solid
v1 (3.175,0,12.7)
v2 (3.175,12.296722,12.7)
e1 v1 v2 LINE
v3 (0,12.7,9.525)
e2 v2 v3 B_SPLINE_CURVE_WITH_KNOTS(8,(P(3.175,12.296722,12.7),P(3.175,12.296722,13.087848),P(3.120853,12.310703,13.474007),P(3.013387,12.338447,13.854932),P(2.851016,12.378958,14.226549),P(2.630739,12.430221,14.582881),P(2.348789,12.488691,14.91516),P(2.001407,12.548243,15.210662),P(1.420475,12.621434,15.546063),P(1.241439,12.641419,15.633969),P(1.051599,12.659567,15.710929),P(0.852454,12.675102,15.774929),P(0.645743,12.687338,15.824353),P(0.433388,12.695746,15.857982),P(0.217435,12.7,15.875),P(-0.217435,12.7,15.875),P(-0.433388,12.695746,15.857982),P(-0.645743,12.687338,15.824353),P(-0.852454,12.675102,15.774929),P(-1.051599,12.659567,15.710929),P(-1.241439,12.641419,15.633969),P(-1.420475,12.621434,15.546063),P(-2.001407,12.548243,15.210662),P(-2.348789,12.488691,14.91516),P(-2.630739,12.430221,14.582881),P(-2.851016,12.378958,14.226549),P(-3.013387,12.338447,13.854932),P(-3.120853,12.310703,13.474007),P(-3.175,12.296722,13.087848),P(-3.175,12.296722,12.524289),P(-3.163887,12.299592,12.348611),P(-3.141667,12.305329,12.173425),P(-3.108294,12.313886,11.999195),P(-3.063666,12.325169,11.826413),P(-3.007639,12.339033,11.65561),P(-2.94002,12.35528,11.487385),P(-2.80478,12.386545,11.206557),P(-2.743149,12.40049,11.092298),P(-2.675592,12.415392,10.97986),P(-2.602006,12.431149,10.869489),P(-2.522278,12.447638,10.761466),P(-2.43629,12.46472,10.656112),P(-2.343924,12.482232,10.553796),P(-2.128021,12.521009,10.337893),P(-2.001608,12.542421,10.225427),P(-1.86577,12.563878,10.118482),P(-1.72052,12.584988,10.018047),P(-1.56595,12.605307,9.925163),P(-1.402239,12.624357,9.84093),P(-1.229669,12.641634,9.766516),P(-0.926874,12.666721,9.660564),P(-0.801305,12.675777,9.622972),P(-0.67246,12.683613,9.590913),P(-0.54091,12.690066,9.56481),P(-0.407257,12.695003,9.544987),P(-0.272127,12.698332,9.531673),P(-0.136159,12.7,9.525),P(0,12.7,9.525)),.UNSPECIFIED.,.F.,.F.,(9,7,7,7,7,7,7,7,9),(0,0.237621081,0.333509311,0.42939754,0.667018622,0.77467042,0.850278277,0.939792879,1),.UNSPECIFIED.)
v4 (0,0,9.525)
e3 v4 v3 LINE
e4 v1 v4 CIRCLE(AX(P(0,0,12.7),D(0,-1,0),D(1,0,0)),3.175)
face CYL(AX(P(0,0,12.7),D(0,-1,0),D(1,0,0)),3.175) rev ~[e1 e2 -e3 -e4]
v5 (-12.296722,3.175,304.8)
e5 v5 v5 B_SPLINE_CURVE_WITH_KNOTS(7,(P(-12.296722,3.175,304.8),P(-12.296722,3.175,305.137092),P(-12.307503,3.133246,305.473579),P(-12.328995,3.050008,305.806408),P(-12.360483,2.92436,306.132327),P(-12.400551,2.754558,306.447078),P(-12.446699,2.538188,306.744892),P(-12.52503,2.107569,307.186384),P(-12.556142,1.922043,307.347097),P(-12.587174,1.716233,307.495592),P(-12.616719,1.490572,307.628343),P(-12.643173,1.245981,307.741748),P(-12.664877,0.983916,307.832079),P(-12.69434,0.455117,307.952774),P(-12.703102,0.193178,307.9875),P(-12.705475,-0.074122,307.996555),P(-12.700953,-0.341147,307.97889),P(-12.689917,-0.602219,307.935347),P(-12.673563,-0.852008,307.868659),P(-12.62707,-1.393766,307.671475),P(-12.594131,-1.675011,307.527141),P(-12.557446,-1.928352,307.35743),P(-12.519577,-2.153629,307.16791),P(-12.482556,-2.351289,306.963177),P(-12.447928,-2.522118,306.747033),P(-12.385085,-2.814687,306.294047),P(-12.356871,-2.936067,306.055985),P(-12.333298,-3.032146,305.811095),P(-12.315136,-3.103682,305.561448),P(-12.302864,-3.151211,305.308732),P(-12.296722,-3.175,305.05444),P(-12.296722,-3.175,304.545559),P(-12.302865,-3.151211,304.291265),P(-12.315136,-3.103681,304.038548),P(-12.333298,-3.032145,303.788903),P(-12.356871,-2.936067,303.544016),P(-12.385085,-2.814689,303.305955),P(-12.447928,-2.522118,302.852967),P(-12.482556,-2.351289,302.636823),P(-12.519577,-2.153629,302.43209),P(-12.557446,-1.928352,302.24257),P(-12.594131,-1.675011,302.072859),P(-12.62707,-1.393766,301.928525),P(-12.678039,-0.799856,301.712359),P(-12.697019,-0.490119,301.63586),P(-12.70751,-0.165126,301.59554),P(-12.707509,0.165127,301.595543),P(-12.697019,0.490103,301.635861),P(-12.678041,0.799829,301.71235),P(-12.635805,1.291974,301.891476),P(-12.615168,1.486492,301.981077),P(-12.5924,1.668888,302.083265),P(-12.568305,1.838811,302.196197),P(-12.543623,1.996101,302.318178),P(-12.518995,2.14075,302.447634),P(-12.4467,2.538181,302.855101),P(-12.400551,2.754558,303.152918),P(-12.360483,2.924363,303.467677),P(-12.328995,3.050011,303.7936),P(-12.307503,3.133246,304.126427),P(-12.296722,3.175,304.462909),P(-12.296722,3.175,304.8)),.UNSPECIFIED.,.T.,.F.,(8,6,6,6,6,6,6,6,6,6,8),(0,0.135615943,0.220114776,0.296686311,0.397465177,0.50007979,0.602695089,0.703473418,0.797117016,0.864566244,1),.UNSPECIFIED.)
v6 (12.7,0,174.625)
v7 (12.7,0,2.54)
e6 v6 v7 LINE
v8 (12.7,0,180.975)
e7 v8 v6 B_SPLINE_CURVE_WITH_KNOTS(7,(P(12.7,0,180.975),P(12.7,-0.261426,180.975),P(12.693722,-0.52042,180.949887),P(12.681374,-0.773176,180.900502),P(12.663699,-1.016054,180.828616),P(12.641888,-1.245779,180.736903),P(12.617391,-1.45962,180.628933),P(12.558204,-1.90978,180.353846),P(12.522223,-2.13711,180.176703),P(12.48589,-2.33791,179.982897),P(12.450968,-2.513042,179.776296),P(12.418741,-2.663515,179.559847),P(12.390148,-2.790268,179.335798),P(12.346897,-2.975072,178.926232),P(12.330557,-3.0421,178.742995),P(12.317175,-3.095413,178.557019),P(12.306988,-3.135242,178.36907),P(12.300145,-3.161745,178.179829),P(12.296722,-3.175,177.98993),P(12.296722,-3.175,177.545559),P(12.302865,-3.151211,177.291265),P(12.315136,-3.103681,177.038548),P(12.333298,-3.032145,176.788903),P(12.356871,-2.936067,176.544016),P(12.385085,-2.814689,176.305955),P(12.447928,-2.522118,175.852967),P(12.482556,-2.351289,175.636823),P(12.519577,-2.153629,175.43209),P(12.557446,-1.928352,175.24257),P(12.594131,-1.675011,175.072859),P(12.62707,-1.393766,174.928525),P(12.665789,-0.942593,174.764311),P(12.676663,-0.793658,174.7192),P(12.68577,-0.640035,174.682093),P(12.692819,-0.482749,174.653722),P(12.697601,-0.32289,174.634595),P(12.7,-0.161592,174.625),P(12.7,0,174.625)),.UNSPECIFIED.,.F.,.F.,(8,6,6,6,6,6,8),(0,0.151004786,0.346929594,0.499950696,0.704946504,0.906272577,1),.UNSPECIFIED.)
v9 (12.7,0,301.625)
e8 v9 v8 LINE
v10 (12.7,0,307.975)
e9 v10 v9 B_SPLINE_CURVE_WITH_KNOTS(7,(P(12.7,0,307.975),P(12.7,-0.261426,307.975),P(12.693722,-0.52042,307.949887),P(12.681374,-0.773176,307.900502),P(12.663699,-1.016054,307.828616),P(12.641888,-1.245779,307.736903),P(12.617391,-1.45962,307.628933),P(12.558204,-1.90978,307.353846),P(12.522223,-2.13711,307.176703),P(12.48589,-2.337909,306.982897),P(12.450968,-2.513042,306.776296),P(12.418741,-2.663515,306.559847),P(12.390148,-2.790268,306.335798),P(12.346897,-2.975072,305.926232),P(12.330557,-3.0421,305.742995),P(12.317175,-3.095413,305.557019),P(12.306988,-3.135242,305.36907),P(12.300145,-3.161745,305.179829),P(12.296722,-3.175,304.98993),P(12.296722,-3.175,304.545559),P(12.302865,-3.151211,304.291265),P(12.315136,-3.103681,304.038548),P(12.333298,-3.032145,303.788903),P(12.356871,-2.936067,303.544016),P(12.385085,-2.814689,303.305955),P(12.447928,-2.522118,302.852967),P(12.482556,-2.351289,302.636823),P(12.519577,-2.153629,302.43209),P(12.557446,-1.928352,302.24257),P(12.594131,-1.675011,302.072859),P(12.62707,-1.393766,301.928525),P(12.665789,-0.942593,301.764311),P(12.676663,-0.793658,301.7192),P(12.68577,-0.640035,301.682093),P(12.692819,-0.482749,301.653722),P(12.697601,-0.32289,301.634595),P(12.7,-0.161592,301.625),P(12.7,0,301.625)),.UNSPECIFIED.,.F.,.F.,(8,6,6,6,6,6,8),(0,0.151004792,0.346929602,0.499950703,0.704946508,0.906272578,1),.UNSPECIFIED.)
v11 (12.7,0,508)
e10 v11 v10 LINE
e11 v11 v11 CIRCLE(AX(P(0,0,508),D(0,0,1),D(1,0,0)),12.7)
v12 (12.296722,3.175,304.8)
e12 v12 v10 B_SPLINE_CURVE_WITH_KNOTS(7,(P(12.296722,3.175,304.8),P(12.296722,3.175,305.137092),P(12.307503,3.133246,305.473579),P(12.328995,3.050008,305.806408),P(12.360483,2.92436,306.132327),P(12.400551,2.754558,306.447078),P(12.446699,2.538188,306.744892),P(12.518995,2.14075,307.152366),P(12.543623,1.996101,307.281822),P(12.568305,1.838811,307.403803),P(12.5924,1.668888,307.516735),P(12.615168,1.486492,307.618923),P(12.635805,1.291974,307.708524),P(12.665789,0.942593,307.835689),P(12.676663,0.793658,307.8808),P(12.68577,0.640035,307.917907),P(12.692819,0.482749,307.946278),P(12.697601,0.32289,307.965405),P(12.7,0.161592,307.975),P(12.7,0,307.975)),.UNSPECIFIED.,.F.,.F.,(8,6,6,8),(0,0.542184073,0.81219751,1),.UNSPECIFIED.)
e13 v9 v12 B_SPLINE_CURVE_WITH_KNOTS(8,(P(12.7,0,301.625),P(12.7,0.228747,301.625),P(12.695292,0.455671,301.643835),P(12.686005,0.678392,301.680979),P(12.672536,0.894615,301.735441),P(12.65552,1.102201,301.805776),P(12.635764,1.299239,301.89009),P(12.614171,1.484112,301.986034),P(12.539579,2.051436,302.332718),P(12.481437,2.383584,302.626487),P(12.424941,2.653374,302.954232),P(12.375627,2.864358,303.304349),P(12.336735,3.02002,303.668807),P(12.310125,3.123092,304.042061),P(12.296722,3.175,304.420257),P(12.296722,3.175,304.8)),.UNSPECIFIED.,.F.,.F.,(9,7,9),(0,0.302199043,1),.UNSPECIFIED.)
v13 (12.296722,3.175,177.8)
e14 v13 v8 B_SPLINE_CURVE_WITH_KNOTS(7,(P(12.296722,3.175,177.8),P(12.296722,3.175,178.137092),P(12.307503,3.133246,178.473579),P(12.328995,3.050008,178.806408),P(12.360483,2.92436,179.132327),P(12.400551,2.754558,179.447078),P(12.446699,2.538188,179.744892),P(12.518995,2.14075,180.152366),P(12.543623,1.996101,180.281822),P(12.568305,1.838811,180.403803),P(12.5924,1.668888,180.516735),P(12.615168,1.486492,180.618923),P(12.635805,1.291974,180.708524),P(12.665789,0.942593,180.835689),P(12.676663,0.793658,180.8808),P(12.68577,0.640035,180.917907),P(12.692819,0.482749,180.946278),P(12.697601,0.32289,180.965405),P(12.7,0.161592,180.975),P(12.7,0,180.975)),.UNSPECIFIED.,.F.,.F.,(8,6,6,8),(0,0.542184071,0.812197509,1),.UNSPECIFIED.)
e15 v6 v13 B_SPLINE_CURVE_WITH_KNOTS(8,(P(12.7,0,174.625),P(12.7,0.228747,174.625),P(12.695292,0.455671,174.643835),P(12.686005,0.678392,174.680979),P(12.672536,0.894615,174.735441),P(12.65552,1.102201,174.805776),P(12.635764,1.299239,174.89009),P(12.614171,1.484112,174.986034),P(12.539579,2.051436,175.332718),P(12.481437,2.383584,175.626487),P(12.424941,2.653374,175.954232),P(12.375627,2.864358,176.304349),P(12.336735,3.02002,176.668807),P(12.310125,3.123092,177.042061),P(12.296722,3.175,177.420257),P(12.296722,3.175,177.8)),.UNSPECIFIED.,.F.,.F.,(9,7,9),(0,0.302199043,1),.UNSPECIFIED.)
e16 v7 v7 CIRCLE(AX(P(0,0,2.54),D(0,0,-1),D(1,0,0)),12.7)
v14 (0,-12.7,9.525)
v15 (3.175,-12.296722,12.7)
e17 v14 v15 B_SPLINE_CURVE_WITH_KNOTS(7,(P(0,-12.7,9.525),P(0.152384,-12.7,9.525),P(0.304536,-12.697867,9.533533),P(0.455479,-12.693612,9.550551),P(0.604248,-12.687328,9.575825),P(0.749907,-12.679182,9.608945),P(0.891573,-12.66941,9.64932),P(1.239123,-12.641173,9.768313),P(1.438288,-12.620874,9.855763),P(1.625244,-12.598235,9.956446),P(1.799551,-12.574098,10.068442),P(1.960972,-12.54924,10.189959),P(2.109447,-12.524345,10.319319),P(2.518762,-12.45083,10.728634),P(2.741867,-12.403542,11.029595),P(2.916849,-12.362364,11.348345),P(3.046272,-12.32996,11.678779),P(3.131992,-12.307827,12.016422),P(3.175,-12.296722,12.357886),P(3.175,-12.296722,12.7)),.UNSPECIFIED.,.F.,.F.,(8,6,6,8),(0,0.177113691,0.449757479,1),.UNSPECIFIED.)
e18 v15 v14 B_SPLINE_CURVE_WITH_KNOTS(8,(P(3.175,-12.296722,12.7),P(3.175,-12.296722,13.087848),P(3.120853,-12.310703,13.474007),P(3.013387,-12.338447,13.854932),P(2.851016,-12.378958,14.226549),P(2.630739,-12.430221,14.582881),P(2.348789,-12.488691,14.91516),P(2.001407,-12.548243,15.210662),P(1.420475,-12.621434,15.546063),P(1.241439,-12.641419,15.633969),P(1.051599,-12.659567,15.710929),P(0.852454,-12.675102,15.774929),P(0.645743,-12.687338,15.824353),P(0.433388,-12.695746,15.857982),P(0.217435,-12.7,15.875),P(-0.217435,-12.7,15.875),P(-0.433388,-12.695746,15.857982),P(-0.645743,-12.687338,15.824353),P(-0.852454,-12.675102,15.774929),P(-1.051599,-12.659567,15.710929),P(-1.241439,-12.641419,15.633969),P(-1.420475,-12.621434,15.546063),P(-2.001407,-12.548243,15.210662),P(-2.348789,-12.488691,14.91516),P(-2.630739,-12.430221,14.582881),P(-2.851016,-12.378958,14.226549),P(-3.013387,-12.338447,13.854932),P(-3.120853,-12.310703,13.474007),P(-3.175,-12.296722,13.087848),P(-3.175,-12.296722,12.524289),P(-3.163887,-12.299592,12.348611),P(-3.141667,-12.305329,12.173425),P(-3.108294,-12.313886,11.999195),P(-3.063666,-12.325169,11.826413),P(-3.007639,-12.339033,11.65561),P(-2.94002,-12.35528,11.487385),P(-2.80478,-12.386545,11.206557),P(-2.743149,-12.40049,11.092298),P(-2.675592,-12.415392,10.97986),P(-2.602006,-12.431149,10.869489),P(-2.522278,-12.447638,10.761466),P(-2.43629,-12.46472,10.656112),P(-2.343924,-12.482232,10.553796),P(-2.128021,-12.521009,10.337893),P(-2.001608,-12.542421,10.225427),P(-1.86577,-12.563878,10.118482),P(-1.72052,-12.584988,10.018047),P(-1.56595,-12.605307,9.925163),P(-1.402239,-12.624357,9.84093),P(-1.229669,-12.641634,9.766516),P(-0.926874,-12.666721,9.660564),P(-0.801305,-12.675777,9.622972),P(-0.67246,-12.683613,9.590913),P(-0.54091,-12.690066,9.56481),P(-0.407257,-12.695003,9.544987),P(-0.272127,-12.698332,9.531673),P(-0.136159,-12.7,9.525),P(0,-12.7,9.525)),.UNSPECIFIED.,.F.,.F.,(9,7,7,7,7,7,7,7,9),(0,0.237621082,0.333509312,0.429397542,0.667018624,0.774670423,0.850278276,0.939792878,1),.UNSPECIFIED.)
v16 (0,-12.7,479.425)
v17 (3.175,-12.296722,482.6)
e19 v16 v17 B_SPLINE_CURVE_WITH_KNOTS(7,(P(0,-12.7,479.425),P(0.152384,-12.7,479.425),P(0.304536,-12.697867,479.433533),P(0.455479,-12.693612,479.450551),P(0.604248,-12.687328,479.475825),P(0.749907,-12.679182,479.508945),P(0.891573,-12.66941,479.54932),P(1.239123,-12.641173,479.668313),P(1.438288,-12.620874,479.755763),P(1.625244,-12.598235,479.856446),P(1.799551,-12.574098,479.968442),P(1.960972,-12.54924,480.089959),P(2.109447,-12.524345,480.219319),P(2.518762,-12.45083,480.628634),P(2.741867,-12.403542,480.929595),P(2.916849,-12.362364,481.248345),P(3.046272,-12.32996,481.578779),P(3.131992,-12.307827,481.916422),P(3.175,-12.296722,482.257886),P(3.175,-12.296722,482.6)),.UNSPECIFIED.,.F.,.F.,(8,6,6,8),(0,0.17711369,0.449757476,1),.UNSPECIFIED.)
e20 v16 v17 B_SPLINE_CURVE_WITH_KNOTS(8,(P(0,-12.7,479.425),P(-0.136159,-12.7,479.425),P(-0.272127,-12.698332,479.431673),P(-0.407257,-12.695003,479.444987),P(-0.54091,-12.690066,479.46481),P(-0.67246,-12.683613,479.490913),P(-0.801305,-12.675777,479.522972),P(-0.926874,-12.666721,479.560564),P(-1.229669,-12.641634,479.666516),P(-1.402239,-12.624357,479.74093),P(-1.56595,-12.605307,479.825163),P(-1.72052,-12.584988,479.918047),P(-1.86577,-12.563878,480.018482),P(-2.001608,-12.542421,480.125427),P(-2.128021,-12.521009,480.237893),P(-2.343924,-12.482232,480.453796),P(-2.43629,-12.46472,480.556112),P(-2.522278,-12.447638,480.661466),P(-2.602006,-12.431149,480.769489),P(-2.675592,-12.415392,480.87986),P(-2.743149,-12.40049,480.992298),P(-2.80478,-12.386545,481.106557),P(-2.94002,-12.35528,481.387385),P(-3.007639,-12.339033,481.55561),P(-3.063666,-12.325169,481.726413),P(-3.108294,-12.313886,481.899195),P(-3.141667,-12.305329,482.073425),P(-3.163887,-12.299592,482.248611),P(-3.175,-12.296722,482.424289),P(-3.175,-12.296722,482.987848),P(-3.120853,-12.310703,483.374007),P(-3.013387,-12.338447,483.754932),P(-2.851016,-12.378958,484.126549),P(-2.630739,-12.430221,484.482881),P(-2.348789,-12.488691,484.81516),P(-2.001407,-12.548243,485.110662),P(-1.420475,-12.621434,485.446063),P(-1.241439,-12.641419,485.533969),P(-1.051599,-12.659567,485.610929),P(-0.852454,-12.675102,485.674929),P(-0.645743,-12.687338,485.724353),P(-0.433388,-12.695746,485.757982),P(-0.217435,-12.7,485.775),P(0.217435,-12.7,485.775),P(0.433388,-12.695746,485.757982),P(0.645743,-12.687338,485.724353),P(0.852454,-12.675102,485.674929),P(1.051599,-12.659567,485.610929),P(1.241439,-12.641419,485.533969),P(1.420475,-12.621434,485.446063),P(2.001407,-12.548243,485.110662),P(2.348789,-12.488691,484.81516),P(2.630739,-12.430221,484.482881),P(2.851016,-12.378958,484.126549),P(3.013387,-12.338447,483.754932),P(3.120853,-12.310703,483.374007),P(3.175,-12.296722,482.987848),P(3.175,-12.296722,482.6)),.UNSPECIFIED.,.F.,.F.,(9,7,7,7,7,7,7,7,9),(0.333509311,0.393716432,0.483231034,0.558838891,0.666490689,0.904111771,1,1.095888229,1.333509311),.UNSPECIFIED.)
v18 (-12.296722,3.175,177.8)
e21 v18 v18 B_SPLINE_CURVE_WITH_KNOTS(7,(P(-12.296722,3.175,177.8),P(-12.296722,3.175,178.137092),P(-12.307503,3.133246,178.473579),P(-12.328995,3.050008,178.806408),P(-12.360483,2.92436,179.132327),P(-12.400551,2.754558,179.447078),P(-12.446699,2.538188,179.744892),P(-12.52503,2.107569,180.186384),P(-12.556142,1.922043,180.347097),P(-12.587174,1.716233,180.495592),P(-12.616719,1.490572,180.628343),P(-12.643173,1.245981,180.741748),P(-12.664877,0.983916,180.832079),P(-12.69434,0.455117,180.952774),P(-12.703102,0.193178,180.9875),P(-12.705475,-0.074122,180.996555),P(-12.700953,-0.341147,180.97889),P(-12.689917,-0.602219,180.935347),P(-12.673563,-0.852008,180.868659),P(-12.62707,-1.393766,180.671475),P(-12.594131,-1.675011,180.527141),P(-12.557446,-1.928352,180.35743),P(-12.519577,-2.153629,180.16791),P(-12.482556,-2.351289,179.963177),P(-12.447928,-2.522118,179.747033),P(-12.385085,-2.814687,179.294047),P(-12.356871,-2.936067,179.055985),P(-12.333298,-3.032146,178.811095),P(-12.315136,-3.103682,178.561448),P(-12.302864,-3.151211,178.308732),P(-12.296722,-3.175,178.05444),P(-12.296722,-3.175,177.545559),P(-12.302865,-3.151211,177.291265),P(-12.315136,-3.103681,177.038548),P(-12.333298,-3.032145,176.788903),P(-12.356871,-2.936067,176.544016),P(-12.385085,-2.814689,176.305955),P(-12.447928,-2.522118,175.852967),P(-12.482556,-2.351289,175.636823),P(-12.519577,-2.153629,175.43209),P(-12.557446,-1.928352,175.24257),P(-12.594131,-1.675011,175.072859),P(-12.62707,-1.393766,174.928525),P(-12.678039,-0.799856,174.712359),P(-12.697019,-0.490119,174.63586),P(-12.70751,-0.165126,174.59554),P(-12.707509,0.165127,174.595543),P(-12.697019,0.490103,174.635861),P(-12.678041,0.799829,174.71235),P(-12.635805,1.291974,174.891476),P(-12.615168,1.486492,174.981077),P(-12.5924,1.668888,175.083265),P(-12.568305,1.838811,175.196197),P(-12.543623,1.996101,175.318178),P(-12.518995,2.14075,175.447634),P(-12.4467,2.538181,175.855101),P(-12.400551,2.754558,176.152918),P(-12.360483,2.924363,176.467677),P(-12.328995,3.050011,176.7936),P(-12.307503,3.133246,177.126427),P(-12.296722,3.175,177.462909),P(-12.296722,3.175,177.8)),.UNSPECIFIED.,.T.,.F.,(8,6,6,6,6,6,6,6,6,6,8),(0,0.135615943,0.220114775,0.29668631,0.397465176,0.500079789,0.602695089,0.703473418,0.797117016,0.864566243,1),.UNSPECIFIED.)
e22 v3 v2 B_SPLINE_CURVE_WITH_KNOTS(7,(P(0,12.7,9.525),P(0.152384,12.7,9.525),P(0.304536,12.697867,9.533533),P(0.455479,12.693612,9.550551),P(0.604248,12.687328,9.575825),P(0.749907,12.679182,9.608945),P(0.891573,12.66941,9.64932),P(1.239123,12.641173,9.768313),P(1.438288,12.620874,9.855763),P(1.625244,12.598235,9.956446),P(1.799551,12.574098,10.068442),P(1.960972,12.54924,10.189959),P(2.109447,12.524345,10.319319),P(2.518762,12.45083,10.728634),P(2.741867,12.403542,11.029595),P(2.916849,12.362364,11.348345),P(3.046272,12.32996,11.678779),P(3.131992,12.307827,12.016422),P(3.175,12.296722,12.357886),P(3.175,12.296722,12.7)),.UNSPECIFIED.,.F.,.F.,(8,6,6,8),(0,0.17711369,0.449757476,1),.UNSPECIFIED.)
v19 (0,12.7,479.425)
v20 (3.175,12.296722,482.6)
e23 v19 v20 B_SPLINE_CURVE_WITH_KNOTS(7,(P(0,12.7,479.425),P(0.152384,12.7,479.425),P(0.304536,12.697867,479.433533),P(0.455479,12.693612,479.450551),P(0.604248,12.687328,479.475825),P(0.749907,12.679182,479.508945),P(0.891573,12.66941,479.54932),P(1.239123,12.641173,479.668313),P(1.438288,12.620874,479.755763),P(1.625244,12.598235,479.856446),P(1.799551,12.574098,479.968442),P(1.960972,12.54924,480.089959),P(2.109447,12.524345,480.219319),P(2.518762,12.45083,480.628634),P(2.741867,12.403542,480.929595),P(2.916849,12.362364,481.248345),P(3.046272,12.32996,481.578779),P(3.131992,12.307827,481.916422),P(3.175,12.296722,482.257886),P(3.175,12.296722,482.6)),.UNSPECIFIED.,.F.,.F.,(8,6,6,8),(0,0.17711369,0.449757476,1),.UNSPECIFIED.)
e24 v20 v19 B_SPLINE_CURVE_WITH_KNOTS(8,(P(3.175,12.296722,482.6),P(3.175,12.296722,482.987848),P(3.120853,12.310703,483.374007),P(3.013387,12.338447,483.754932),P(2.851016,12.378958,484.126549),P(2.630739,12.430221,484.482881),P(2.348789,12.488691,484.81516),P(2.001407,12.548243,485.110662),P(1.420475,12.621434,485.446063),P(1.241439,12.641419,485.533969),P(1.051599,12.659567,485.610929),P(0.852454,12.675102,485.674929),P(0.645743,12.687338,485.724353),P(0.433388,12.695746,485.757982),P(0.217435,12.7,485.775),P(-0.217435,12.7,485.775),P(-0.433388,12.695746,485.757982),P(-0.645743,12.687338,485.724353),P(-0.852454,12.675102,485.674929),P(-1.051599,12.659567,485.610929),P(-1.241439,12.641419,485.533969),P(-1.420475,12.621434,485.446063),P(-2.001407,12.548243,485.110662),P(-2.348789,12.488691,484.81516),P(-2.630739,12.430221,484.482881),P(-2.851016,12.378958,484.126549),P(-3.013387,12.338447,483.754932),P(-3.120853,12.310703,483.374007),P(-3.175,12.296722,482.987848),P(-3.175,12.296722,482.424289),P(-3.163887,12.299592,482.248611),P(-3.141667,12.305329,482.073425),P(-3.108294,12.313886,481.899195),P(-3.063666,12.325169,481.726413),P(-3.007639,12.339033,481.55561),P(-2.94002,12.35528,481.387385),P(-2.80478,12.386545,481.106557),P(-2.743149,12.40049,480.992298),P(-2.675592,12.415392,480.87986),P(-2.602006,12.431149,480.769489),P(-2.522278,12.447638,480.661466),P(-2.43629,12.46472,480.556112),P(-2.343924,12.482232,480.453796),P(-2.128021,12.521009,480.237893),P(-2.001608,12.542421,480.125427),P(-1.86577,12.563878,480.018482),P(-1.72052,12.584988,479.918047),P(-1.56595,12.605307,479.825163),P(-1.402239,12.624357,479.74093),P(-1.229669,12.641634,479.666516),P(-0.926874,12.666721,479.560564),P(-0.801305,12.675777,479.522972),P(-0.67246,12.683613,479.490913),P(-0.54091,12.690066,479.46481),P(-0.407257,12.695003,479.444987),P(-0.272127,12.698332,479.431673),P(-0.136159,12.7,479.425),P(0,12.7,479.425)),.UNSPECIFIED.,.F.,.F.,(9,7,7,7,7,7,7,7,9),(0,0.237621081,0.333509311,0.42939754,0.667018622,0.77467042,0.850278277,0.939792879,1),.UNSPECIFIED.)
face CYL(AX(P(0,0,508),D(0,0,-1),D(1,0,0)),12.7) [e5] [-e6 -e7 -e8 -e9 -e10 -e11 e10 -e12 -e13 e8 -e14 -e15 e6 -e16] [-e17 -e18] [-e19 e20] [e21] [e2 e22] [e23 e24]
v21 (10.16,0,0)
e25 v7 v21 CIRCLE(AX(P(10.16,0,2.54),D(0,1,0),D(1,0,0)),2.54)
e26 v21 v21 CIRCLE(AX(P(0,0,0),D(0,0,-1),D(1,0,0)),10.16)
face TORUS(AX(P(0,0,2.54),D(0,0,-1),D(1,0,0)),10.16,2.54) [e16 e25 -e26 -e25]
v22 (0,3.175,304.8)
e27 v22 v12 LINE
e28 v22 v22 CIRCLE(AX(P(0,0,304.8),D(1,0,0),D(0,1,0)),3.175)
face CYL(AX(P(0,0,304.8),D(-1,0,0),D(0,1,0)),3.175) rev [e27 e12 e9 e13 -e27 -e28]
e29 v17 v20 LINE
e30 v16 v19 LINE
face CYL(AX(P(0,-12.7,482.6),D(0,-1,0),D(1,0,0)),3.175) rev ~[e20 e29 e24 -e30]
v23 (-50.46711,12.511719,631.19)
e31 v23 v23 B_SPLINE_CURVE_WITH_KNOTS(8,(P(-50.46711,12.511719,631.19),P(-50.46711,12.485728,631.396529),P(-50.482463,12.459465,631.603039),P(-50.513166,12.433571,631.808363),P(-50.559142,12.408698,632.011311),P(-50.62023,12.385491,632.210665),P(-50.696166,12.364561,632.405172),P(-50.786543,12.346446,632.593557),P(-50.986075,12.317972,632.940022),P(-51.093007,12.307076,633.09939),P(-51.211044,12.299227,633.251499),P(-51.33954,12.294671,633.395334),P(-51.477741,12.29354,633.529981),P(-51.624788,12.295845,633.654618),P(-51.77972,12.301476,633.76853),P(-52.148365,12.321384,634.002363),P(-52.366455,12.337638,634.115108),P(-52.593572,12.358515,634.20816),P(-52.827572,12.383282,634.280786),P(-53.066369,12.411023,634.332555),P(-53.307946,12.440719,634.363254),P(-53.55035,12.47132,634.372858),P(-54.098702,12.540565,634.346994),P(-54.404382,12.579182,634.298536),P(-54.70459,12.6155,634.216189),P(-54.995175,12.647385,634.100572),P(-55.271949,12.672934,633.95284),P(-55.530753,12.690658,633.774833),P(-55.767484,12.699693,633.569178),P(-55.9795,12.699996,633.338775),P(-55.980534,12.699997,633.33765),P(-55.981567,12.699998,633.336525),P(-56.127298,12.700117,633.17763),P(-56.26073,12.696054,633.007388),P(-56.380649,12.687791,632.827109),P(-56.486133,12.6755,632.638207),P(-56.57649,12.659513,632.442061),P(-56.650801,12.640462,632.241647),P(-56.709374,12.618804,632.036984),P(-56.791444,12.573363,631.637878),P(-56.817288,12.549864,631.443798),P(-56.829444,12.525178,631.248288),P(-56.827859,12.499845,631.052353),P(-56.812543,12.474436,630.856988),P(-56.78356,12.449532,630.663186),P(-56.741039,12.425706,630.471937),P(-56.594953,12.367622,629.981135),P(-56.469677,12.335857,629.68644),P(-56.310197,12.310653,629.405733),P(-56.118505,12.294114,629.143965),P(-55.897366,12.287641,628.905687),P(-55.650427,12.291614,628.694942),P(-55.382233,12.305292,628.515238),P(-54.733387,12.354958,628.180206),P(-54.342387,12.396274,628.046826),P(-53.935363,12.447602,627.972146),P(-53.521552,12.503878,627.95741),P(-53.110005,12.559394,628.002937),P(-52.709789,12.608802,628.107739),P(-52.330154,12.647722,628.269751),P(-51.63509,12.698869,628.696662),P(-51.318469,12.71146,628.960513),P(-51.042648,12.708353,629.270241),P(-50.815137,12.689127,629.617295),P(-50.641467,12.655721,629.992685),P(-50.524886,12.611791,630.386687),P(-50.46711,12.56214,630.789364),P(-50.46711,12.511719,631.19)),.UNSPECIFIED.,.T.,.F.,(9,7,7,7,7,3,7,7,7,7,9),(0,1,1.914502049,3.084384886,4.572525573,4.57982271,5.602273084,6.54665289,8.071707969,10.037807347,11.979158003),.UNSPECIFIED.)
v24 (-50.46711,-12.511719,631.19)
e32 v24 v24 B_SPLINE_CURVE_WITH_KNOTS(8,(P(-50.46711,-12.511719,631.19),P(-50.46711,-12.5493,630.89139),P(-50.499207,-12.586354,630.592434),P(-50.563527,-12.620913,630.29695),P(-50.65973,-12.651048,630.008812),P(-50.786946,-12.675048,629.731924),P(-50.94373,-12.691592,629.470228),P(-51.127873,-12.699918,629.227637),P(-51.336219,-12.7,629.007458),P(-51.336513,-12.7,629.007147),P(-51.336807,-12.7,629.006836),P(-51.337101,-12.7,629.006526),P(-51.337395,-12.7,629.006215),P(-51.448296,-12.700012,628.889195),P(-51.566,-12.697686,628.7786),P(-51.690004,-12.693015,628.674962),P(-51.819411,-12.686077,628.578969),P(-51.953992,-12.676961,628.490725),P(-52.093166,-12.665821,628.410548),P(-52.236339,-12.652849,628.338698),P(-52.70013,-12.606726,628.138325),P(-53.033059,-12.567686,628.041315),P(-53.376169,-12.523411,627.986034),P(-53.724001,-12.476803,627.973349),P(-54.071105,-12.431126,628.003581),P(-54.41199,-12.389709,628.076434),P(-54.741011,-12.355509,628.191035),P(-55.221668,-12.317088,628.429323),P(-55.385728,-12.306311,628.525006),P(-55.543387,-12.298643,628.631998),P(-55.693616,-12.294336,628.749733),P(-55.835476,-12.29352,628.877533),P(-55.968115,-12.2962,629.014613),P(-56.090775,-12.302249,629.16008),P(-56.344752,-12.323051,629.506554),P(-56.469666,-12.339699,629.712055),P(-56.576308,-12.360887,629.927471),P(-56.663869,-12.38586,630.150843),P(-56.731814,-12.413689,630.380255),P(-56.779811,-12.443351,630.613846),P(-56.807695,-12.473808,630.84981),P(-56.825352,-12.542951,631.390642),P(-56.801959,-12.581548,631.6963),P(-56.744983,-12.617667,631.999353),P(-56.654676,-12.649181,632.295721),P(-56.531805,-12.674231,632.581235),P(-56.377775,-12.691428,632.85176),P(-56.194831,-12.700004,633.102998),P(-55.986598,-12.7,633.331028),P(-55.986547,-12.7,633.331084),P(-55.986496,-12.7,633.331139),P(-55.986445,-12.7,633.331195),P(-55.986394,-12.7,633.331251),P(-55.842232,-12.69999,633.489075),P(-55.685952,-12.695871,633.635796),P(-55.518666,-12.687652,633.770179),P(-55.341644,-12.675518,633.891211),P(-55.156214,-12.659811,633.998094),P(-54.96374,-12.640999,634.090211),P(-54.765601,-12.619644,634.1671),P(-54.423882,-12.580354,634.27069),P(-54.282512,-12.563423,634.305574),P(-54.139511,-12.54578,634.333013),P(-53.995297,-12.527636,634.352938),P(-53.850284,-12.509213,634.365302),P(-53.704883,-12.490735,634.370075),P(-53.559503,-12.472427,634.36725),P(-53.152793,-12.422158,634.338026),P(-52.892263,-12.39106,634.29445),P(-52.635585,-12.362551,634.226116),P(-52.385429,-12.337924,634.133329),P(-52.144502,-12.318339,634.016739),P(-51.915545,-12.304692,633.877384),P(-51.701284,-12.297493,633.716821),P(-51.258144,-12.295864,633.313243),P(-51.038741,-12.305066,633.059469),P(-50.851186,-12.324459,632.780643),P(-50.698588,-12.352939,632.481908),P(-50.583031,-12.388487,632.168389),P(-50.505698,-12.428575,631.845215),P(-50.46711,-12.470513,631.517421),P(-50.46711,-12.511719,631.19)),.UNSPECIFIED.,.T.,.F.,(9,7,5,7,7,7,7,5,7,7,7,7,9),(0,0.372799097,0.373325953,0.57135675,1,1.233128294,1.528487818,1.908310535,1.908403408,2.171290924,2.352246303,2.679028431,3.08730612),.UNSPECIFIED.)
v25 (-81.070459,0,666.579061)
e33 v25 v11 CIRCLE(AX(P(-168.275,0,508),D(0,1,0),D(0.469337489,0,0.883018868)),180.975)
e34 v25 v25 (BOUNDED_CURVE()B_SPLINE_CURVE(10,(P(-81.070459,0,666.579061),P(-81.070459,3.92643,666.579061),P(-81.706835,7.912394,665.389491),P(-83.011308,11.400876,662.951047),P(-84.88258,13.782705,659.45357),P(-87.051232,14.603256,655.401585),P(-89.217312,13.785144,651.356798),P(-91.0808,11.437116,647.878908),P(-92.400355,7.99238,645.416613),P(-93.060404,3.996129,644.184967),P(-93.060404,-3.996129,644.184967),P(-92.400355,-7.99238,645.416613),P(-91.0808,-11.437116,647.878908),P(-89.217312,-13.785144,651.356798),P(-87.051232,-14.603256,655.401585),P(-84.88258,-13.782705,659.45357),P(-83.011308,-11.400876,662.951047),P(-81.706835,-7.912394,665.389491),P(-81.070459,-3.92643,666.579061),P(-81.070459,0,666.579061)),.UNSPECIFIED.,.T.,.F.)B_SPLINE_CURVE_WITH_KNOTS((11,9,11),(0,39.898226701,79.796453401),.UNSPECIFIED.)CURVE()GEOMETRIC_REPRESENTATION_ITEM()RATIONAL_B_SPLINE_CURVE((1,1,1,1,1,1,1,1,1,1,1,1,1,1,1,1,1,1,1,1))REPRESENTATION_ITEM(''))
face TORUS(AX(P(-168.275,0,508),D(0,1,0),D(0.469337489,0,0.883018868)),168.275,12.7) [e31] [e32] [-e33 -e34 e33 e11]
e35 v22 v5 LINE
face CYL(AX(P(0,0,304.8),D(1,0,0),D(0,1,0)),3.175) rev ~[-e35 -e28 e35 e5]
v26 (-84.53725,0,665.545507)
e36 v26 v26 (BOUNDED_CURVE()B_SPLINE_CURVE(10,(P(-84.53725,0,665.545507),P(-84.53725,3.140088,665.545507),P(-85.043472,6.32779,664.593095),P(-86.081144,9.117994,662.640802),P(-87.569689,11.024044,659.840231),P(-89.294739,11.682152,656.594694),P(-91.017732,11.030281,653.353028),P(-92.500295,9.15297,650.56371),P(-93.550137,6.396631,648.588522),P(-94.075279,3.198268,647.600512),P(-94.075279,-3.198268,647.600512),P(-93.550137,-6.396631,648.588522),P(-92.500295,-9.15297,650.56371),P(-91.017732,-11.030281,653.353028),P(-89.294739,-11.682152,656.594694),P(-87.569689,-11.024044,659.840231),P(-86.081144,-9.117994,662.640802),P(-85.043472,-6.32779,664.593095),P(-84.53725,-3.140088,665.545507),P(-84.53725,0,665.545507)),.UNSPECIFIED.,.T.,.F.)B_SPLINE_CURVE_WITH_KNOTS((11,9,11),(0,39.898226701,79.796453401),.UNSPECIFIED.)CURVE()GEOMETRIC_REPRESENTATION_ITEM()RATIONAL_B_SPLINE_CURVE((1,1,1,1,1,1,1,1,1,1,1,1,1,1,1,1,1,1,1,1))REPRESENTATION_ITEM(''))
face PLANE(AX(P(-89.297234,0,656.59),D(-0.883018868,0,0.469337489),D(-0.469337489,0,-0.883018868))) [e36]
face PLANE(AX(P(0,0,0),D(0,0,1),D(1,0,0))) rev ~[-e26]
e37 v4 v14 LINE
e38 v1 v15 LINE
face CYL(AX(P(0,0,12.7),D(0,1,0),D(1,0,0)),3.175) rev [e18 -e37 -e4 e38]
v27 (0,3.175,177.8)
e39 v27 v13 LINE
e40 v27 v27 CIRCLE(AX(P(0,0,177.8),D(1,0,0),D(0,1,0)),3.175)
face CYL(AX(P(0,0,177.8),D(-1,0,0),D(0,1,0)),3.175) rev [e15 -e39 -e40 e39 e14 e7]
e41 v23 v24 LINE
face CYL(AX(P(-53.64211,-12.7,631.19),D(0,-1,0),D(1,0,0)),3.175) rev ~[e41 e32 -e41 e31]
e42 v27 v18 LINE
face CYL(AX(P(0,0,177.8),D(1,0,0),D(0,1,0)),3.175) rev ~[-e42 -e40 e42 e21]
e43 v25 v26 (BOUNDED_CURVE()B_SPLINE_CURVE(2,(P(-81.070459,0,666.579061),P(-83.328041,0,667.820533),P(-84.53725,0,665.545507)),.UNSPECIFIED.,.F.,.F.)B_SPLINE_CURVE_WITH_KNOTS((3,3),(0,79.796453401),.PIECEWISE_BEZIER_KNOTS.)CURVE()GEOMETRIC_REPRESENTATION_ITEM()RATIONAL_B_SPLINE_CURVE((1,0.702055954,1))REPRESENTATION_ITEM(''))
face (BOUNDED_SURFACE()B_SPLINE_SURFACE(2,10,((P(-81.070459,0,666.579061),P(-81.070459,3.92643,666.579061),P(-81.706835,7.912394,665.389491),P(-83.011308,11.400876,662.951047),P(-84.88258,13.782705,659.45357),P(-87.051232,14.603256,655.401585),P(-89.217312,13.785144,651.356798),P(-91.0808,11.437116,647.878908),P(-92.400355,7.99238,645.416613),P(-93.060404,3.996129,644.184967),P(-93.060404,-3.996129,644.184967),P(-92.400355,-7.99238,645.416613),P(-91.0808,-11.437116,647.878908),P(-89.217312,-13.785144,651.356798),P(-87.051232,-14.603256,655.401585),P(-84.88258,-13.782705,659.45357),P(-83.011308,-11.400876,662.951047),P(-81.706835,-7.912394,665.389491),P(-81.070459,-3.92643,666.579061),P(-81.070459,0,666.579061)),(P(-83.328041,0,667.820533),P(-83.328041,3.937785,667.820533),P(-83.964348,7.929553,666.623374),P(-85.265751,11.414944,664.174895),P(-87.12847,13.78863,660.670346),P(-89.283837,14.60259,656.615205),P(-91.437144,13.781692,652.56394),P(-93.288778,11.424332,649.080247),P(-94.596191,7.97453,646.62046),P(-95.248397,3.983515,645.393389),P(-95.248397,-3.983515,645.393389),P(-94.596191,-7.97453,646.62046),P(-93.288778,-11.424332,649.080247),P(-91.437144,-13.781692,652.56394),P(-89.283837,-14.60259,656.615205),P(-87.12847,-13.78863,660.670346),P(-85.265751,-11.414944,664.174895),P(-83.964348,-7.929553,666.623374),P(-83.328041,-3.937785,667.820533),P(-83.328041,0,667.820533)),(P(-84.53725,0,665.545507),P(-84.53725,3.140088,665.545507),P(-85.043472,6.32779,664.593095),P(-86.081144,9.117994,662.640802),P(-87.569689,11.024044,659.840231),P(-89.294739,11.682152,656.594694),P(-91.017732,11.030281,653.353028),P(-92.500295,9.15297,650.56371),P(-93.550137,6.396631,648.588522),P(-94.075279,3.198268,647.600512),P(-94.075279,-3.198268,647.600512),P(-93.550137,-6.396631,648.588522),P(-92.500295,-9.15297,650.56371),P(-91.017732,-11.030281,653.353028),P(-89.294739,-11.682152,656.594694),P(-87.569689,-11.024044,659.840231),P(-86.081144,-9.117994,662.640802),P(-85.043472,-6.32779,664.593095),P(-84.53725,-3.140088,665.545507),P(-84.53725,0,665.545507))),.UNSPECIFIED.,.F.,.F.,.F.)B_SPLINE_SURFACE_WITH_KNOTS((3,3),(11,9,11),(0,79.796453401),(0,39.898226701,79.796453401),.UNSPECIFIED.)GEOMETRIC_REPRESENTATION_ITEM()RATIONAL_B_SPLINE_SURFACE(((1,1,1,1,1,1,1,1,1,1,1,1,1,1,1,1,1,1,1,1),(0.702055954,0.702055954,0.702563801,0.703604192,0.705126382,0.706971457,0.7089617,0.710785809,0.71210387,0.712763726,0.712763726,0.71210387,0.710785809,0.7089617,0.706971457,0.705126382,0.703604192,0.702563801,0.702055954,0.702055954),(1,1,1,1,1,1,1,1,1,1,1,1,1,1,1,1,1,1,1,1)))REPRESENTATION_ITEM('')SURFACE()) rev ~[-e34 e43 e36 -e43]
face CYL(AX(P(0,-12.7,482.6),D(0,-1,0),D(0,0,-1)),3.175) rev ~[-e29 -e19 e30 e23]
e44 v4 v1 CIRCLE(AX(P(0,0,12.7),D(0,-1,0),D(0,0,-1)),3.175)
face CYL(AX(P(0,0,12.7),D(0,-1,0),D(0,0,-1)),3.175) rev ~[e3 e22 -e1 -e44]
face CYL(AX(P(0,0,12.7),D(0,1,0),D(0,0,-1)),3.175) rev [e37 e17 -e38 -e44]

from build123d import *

# Parameters (mm, degrees)
F1_R           = 12.7
F3_R           = 2.54
F6_DEPTH       = 6.35
F6_DEPTH_BACK  = 31.75
F7_R           = 3.175
F8_DEPTH       = 40.64
F10_R          = 3.175
F11_DEPTH      = 6.35
F12_R          = 3.175
F13_DEPTH      = 19.05
F13_DEPTH_BACK = 25.4
F15_DEPTH      = 25.4
F15_DEPTH_BACK = 25.4


with BuildPart() as f2:
    # F2: sweep along a path in F0
    with BuildLine(Plane.XZ) as f2_path:
        ThreePointArc((-89.2972339832, 656.59), (-24.04175279, 594.6789825982), (0, 508))
        Line((0, 508), (0, 0))
    # F1 (on Top) → F2 (sweep)
    with BuildSketch(Plane.XY):
        Circle(F1_R)
    sweep(path=f2_path.line)

    # F3
    f3_edges = [f2.edges().sort_by_distance(p)[0] for p in [
        (-95.25782, 0, 645.37566),
        (-12.7, 0, 0),
    ]]
    fillet(f3_edges, radius=F3_R)

    # F5 (on offset) → F6 (cut, two sides)
    with BuildSketch(Plane.XZ.offset(12.7)) as f6_sk:
        with BuildLine():
            ThreePointArc((0, 479.425), (2.2450640303, 480.3549359697), (3.175, 482.6))
            ThreePointArc((3.175, 482.6), (-2.2450640303, 484.8450640303), (0, 479.425))
        make_face()
    extrude(amount=F6_DEPTH, mode=Mode.SUBTRACT)
    extrude(f6_sk.sketch, amount=-F6_DEPTH_BACK, mode=Mode.SUBTRACT)

    # F7 (on offset) → F8 (cut)
    with BuildSketch(Plane.XZ.offset(12.7)):
        with Locations((-53.642109759, 631.19)):
            Circle(F7_R)
    extrude(amount=-F8_DEPTH, mode=Mode.SUBTRACT)

    # F10 (on offset) → F11 (cut)
    with BuildSketch(Plane.XZ.offset(-12.7)):
        with Locations((-53.642109759, 631.19)):
            Circle(F10_R)
    extrude(amount=F11_DEPTH, mode=Mode.SUBTRACT)

    # F12 (on Right) → F13 (cut, two sides)
    with BuildSketch(Plane.YZ) as f13_sk:
        with Locations((0, 304.8)):
            Circle(F12_R)
        with Locations((0, 177.8)):
            Circle(F12_R)
    extrude(amount=F13_DEPTH, mode=Mode.SUBTRACT)
    extrude(f13_sk.sketch, amount=-F13_DEPTH_BACK, mode=Mode.SUBTRACT)

    # F14 (on Front) → F15 (cut, two sides)
    with BuildSketch(Plane.XZ) as f15_sk:
        with BuildLine():
            ThreePointArc((0, 9.525), (2.2450640303, 10.4549359697), (3.175, 12.7))
            ThreePointArc((3.175, 12.7), (-2.2450640303, 14.9450640303), (0, 9.525))
        make_face()
    extrude(amount=-F15_DEPTH, mode=Mode.SUBTRACT)
    extrude(f15_sk.sketch, amount=F15_DEPTH_BACK, mode=Mode.SUBTRACT)


solid = f2.part
